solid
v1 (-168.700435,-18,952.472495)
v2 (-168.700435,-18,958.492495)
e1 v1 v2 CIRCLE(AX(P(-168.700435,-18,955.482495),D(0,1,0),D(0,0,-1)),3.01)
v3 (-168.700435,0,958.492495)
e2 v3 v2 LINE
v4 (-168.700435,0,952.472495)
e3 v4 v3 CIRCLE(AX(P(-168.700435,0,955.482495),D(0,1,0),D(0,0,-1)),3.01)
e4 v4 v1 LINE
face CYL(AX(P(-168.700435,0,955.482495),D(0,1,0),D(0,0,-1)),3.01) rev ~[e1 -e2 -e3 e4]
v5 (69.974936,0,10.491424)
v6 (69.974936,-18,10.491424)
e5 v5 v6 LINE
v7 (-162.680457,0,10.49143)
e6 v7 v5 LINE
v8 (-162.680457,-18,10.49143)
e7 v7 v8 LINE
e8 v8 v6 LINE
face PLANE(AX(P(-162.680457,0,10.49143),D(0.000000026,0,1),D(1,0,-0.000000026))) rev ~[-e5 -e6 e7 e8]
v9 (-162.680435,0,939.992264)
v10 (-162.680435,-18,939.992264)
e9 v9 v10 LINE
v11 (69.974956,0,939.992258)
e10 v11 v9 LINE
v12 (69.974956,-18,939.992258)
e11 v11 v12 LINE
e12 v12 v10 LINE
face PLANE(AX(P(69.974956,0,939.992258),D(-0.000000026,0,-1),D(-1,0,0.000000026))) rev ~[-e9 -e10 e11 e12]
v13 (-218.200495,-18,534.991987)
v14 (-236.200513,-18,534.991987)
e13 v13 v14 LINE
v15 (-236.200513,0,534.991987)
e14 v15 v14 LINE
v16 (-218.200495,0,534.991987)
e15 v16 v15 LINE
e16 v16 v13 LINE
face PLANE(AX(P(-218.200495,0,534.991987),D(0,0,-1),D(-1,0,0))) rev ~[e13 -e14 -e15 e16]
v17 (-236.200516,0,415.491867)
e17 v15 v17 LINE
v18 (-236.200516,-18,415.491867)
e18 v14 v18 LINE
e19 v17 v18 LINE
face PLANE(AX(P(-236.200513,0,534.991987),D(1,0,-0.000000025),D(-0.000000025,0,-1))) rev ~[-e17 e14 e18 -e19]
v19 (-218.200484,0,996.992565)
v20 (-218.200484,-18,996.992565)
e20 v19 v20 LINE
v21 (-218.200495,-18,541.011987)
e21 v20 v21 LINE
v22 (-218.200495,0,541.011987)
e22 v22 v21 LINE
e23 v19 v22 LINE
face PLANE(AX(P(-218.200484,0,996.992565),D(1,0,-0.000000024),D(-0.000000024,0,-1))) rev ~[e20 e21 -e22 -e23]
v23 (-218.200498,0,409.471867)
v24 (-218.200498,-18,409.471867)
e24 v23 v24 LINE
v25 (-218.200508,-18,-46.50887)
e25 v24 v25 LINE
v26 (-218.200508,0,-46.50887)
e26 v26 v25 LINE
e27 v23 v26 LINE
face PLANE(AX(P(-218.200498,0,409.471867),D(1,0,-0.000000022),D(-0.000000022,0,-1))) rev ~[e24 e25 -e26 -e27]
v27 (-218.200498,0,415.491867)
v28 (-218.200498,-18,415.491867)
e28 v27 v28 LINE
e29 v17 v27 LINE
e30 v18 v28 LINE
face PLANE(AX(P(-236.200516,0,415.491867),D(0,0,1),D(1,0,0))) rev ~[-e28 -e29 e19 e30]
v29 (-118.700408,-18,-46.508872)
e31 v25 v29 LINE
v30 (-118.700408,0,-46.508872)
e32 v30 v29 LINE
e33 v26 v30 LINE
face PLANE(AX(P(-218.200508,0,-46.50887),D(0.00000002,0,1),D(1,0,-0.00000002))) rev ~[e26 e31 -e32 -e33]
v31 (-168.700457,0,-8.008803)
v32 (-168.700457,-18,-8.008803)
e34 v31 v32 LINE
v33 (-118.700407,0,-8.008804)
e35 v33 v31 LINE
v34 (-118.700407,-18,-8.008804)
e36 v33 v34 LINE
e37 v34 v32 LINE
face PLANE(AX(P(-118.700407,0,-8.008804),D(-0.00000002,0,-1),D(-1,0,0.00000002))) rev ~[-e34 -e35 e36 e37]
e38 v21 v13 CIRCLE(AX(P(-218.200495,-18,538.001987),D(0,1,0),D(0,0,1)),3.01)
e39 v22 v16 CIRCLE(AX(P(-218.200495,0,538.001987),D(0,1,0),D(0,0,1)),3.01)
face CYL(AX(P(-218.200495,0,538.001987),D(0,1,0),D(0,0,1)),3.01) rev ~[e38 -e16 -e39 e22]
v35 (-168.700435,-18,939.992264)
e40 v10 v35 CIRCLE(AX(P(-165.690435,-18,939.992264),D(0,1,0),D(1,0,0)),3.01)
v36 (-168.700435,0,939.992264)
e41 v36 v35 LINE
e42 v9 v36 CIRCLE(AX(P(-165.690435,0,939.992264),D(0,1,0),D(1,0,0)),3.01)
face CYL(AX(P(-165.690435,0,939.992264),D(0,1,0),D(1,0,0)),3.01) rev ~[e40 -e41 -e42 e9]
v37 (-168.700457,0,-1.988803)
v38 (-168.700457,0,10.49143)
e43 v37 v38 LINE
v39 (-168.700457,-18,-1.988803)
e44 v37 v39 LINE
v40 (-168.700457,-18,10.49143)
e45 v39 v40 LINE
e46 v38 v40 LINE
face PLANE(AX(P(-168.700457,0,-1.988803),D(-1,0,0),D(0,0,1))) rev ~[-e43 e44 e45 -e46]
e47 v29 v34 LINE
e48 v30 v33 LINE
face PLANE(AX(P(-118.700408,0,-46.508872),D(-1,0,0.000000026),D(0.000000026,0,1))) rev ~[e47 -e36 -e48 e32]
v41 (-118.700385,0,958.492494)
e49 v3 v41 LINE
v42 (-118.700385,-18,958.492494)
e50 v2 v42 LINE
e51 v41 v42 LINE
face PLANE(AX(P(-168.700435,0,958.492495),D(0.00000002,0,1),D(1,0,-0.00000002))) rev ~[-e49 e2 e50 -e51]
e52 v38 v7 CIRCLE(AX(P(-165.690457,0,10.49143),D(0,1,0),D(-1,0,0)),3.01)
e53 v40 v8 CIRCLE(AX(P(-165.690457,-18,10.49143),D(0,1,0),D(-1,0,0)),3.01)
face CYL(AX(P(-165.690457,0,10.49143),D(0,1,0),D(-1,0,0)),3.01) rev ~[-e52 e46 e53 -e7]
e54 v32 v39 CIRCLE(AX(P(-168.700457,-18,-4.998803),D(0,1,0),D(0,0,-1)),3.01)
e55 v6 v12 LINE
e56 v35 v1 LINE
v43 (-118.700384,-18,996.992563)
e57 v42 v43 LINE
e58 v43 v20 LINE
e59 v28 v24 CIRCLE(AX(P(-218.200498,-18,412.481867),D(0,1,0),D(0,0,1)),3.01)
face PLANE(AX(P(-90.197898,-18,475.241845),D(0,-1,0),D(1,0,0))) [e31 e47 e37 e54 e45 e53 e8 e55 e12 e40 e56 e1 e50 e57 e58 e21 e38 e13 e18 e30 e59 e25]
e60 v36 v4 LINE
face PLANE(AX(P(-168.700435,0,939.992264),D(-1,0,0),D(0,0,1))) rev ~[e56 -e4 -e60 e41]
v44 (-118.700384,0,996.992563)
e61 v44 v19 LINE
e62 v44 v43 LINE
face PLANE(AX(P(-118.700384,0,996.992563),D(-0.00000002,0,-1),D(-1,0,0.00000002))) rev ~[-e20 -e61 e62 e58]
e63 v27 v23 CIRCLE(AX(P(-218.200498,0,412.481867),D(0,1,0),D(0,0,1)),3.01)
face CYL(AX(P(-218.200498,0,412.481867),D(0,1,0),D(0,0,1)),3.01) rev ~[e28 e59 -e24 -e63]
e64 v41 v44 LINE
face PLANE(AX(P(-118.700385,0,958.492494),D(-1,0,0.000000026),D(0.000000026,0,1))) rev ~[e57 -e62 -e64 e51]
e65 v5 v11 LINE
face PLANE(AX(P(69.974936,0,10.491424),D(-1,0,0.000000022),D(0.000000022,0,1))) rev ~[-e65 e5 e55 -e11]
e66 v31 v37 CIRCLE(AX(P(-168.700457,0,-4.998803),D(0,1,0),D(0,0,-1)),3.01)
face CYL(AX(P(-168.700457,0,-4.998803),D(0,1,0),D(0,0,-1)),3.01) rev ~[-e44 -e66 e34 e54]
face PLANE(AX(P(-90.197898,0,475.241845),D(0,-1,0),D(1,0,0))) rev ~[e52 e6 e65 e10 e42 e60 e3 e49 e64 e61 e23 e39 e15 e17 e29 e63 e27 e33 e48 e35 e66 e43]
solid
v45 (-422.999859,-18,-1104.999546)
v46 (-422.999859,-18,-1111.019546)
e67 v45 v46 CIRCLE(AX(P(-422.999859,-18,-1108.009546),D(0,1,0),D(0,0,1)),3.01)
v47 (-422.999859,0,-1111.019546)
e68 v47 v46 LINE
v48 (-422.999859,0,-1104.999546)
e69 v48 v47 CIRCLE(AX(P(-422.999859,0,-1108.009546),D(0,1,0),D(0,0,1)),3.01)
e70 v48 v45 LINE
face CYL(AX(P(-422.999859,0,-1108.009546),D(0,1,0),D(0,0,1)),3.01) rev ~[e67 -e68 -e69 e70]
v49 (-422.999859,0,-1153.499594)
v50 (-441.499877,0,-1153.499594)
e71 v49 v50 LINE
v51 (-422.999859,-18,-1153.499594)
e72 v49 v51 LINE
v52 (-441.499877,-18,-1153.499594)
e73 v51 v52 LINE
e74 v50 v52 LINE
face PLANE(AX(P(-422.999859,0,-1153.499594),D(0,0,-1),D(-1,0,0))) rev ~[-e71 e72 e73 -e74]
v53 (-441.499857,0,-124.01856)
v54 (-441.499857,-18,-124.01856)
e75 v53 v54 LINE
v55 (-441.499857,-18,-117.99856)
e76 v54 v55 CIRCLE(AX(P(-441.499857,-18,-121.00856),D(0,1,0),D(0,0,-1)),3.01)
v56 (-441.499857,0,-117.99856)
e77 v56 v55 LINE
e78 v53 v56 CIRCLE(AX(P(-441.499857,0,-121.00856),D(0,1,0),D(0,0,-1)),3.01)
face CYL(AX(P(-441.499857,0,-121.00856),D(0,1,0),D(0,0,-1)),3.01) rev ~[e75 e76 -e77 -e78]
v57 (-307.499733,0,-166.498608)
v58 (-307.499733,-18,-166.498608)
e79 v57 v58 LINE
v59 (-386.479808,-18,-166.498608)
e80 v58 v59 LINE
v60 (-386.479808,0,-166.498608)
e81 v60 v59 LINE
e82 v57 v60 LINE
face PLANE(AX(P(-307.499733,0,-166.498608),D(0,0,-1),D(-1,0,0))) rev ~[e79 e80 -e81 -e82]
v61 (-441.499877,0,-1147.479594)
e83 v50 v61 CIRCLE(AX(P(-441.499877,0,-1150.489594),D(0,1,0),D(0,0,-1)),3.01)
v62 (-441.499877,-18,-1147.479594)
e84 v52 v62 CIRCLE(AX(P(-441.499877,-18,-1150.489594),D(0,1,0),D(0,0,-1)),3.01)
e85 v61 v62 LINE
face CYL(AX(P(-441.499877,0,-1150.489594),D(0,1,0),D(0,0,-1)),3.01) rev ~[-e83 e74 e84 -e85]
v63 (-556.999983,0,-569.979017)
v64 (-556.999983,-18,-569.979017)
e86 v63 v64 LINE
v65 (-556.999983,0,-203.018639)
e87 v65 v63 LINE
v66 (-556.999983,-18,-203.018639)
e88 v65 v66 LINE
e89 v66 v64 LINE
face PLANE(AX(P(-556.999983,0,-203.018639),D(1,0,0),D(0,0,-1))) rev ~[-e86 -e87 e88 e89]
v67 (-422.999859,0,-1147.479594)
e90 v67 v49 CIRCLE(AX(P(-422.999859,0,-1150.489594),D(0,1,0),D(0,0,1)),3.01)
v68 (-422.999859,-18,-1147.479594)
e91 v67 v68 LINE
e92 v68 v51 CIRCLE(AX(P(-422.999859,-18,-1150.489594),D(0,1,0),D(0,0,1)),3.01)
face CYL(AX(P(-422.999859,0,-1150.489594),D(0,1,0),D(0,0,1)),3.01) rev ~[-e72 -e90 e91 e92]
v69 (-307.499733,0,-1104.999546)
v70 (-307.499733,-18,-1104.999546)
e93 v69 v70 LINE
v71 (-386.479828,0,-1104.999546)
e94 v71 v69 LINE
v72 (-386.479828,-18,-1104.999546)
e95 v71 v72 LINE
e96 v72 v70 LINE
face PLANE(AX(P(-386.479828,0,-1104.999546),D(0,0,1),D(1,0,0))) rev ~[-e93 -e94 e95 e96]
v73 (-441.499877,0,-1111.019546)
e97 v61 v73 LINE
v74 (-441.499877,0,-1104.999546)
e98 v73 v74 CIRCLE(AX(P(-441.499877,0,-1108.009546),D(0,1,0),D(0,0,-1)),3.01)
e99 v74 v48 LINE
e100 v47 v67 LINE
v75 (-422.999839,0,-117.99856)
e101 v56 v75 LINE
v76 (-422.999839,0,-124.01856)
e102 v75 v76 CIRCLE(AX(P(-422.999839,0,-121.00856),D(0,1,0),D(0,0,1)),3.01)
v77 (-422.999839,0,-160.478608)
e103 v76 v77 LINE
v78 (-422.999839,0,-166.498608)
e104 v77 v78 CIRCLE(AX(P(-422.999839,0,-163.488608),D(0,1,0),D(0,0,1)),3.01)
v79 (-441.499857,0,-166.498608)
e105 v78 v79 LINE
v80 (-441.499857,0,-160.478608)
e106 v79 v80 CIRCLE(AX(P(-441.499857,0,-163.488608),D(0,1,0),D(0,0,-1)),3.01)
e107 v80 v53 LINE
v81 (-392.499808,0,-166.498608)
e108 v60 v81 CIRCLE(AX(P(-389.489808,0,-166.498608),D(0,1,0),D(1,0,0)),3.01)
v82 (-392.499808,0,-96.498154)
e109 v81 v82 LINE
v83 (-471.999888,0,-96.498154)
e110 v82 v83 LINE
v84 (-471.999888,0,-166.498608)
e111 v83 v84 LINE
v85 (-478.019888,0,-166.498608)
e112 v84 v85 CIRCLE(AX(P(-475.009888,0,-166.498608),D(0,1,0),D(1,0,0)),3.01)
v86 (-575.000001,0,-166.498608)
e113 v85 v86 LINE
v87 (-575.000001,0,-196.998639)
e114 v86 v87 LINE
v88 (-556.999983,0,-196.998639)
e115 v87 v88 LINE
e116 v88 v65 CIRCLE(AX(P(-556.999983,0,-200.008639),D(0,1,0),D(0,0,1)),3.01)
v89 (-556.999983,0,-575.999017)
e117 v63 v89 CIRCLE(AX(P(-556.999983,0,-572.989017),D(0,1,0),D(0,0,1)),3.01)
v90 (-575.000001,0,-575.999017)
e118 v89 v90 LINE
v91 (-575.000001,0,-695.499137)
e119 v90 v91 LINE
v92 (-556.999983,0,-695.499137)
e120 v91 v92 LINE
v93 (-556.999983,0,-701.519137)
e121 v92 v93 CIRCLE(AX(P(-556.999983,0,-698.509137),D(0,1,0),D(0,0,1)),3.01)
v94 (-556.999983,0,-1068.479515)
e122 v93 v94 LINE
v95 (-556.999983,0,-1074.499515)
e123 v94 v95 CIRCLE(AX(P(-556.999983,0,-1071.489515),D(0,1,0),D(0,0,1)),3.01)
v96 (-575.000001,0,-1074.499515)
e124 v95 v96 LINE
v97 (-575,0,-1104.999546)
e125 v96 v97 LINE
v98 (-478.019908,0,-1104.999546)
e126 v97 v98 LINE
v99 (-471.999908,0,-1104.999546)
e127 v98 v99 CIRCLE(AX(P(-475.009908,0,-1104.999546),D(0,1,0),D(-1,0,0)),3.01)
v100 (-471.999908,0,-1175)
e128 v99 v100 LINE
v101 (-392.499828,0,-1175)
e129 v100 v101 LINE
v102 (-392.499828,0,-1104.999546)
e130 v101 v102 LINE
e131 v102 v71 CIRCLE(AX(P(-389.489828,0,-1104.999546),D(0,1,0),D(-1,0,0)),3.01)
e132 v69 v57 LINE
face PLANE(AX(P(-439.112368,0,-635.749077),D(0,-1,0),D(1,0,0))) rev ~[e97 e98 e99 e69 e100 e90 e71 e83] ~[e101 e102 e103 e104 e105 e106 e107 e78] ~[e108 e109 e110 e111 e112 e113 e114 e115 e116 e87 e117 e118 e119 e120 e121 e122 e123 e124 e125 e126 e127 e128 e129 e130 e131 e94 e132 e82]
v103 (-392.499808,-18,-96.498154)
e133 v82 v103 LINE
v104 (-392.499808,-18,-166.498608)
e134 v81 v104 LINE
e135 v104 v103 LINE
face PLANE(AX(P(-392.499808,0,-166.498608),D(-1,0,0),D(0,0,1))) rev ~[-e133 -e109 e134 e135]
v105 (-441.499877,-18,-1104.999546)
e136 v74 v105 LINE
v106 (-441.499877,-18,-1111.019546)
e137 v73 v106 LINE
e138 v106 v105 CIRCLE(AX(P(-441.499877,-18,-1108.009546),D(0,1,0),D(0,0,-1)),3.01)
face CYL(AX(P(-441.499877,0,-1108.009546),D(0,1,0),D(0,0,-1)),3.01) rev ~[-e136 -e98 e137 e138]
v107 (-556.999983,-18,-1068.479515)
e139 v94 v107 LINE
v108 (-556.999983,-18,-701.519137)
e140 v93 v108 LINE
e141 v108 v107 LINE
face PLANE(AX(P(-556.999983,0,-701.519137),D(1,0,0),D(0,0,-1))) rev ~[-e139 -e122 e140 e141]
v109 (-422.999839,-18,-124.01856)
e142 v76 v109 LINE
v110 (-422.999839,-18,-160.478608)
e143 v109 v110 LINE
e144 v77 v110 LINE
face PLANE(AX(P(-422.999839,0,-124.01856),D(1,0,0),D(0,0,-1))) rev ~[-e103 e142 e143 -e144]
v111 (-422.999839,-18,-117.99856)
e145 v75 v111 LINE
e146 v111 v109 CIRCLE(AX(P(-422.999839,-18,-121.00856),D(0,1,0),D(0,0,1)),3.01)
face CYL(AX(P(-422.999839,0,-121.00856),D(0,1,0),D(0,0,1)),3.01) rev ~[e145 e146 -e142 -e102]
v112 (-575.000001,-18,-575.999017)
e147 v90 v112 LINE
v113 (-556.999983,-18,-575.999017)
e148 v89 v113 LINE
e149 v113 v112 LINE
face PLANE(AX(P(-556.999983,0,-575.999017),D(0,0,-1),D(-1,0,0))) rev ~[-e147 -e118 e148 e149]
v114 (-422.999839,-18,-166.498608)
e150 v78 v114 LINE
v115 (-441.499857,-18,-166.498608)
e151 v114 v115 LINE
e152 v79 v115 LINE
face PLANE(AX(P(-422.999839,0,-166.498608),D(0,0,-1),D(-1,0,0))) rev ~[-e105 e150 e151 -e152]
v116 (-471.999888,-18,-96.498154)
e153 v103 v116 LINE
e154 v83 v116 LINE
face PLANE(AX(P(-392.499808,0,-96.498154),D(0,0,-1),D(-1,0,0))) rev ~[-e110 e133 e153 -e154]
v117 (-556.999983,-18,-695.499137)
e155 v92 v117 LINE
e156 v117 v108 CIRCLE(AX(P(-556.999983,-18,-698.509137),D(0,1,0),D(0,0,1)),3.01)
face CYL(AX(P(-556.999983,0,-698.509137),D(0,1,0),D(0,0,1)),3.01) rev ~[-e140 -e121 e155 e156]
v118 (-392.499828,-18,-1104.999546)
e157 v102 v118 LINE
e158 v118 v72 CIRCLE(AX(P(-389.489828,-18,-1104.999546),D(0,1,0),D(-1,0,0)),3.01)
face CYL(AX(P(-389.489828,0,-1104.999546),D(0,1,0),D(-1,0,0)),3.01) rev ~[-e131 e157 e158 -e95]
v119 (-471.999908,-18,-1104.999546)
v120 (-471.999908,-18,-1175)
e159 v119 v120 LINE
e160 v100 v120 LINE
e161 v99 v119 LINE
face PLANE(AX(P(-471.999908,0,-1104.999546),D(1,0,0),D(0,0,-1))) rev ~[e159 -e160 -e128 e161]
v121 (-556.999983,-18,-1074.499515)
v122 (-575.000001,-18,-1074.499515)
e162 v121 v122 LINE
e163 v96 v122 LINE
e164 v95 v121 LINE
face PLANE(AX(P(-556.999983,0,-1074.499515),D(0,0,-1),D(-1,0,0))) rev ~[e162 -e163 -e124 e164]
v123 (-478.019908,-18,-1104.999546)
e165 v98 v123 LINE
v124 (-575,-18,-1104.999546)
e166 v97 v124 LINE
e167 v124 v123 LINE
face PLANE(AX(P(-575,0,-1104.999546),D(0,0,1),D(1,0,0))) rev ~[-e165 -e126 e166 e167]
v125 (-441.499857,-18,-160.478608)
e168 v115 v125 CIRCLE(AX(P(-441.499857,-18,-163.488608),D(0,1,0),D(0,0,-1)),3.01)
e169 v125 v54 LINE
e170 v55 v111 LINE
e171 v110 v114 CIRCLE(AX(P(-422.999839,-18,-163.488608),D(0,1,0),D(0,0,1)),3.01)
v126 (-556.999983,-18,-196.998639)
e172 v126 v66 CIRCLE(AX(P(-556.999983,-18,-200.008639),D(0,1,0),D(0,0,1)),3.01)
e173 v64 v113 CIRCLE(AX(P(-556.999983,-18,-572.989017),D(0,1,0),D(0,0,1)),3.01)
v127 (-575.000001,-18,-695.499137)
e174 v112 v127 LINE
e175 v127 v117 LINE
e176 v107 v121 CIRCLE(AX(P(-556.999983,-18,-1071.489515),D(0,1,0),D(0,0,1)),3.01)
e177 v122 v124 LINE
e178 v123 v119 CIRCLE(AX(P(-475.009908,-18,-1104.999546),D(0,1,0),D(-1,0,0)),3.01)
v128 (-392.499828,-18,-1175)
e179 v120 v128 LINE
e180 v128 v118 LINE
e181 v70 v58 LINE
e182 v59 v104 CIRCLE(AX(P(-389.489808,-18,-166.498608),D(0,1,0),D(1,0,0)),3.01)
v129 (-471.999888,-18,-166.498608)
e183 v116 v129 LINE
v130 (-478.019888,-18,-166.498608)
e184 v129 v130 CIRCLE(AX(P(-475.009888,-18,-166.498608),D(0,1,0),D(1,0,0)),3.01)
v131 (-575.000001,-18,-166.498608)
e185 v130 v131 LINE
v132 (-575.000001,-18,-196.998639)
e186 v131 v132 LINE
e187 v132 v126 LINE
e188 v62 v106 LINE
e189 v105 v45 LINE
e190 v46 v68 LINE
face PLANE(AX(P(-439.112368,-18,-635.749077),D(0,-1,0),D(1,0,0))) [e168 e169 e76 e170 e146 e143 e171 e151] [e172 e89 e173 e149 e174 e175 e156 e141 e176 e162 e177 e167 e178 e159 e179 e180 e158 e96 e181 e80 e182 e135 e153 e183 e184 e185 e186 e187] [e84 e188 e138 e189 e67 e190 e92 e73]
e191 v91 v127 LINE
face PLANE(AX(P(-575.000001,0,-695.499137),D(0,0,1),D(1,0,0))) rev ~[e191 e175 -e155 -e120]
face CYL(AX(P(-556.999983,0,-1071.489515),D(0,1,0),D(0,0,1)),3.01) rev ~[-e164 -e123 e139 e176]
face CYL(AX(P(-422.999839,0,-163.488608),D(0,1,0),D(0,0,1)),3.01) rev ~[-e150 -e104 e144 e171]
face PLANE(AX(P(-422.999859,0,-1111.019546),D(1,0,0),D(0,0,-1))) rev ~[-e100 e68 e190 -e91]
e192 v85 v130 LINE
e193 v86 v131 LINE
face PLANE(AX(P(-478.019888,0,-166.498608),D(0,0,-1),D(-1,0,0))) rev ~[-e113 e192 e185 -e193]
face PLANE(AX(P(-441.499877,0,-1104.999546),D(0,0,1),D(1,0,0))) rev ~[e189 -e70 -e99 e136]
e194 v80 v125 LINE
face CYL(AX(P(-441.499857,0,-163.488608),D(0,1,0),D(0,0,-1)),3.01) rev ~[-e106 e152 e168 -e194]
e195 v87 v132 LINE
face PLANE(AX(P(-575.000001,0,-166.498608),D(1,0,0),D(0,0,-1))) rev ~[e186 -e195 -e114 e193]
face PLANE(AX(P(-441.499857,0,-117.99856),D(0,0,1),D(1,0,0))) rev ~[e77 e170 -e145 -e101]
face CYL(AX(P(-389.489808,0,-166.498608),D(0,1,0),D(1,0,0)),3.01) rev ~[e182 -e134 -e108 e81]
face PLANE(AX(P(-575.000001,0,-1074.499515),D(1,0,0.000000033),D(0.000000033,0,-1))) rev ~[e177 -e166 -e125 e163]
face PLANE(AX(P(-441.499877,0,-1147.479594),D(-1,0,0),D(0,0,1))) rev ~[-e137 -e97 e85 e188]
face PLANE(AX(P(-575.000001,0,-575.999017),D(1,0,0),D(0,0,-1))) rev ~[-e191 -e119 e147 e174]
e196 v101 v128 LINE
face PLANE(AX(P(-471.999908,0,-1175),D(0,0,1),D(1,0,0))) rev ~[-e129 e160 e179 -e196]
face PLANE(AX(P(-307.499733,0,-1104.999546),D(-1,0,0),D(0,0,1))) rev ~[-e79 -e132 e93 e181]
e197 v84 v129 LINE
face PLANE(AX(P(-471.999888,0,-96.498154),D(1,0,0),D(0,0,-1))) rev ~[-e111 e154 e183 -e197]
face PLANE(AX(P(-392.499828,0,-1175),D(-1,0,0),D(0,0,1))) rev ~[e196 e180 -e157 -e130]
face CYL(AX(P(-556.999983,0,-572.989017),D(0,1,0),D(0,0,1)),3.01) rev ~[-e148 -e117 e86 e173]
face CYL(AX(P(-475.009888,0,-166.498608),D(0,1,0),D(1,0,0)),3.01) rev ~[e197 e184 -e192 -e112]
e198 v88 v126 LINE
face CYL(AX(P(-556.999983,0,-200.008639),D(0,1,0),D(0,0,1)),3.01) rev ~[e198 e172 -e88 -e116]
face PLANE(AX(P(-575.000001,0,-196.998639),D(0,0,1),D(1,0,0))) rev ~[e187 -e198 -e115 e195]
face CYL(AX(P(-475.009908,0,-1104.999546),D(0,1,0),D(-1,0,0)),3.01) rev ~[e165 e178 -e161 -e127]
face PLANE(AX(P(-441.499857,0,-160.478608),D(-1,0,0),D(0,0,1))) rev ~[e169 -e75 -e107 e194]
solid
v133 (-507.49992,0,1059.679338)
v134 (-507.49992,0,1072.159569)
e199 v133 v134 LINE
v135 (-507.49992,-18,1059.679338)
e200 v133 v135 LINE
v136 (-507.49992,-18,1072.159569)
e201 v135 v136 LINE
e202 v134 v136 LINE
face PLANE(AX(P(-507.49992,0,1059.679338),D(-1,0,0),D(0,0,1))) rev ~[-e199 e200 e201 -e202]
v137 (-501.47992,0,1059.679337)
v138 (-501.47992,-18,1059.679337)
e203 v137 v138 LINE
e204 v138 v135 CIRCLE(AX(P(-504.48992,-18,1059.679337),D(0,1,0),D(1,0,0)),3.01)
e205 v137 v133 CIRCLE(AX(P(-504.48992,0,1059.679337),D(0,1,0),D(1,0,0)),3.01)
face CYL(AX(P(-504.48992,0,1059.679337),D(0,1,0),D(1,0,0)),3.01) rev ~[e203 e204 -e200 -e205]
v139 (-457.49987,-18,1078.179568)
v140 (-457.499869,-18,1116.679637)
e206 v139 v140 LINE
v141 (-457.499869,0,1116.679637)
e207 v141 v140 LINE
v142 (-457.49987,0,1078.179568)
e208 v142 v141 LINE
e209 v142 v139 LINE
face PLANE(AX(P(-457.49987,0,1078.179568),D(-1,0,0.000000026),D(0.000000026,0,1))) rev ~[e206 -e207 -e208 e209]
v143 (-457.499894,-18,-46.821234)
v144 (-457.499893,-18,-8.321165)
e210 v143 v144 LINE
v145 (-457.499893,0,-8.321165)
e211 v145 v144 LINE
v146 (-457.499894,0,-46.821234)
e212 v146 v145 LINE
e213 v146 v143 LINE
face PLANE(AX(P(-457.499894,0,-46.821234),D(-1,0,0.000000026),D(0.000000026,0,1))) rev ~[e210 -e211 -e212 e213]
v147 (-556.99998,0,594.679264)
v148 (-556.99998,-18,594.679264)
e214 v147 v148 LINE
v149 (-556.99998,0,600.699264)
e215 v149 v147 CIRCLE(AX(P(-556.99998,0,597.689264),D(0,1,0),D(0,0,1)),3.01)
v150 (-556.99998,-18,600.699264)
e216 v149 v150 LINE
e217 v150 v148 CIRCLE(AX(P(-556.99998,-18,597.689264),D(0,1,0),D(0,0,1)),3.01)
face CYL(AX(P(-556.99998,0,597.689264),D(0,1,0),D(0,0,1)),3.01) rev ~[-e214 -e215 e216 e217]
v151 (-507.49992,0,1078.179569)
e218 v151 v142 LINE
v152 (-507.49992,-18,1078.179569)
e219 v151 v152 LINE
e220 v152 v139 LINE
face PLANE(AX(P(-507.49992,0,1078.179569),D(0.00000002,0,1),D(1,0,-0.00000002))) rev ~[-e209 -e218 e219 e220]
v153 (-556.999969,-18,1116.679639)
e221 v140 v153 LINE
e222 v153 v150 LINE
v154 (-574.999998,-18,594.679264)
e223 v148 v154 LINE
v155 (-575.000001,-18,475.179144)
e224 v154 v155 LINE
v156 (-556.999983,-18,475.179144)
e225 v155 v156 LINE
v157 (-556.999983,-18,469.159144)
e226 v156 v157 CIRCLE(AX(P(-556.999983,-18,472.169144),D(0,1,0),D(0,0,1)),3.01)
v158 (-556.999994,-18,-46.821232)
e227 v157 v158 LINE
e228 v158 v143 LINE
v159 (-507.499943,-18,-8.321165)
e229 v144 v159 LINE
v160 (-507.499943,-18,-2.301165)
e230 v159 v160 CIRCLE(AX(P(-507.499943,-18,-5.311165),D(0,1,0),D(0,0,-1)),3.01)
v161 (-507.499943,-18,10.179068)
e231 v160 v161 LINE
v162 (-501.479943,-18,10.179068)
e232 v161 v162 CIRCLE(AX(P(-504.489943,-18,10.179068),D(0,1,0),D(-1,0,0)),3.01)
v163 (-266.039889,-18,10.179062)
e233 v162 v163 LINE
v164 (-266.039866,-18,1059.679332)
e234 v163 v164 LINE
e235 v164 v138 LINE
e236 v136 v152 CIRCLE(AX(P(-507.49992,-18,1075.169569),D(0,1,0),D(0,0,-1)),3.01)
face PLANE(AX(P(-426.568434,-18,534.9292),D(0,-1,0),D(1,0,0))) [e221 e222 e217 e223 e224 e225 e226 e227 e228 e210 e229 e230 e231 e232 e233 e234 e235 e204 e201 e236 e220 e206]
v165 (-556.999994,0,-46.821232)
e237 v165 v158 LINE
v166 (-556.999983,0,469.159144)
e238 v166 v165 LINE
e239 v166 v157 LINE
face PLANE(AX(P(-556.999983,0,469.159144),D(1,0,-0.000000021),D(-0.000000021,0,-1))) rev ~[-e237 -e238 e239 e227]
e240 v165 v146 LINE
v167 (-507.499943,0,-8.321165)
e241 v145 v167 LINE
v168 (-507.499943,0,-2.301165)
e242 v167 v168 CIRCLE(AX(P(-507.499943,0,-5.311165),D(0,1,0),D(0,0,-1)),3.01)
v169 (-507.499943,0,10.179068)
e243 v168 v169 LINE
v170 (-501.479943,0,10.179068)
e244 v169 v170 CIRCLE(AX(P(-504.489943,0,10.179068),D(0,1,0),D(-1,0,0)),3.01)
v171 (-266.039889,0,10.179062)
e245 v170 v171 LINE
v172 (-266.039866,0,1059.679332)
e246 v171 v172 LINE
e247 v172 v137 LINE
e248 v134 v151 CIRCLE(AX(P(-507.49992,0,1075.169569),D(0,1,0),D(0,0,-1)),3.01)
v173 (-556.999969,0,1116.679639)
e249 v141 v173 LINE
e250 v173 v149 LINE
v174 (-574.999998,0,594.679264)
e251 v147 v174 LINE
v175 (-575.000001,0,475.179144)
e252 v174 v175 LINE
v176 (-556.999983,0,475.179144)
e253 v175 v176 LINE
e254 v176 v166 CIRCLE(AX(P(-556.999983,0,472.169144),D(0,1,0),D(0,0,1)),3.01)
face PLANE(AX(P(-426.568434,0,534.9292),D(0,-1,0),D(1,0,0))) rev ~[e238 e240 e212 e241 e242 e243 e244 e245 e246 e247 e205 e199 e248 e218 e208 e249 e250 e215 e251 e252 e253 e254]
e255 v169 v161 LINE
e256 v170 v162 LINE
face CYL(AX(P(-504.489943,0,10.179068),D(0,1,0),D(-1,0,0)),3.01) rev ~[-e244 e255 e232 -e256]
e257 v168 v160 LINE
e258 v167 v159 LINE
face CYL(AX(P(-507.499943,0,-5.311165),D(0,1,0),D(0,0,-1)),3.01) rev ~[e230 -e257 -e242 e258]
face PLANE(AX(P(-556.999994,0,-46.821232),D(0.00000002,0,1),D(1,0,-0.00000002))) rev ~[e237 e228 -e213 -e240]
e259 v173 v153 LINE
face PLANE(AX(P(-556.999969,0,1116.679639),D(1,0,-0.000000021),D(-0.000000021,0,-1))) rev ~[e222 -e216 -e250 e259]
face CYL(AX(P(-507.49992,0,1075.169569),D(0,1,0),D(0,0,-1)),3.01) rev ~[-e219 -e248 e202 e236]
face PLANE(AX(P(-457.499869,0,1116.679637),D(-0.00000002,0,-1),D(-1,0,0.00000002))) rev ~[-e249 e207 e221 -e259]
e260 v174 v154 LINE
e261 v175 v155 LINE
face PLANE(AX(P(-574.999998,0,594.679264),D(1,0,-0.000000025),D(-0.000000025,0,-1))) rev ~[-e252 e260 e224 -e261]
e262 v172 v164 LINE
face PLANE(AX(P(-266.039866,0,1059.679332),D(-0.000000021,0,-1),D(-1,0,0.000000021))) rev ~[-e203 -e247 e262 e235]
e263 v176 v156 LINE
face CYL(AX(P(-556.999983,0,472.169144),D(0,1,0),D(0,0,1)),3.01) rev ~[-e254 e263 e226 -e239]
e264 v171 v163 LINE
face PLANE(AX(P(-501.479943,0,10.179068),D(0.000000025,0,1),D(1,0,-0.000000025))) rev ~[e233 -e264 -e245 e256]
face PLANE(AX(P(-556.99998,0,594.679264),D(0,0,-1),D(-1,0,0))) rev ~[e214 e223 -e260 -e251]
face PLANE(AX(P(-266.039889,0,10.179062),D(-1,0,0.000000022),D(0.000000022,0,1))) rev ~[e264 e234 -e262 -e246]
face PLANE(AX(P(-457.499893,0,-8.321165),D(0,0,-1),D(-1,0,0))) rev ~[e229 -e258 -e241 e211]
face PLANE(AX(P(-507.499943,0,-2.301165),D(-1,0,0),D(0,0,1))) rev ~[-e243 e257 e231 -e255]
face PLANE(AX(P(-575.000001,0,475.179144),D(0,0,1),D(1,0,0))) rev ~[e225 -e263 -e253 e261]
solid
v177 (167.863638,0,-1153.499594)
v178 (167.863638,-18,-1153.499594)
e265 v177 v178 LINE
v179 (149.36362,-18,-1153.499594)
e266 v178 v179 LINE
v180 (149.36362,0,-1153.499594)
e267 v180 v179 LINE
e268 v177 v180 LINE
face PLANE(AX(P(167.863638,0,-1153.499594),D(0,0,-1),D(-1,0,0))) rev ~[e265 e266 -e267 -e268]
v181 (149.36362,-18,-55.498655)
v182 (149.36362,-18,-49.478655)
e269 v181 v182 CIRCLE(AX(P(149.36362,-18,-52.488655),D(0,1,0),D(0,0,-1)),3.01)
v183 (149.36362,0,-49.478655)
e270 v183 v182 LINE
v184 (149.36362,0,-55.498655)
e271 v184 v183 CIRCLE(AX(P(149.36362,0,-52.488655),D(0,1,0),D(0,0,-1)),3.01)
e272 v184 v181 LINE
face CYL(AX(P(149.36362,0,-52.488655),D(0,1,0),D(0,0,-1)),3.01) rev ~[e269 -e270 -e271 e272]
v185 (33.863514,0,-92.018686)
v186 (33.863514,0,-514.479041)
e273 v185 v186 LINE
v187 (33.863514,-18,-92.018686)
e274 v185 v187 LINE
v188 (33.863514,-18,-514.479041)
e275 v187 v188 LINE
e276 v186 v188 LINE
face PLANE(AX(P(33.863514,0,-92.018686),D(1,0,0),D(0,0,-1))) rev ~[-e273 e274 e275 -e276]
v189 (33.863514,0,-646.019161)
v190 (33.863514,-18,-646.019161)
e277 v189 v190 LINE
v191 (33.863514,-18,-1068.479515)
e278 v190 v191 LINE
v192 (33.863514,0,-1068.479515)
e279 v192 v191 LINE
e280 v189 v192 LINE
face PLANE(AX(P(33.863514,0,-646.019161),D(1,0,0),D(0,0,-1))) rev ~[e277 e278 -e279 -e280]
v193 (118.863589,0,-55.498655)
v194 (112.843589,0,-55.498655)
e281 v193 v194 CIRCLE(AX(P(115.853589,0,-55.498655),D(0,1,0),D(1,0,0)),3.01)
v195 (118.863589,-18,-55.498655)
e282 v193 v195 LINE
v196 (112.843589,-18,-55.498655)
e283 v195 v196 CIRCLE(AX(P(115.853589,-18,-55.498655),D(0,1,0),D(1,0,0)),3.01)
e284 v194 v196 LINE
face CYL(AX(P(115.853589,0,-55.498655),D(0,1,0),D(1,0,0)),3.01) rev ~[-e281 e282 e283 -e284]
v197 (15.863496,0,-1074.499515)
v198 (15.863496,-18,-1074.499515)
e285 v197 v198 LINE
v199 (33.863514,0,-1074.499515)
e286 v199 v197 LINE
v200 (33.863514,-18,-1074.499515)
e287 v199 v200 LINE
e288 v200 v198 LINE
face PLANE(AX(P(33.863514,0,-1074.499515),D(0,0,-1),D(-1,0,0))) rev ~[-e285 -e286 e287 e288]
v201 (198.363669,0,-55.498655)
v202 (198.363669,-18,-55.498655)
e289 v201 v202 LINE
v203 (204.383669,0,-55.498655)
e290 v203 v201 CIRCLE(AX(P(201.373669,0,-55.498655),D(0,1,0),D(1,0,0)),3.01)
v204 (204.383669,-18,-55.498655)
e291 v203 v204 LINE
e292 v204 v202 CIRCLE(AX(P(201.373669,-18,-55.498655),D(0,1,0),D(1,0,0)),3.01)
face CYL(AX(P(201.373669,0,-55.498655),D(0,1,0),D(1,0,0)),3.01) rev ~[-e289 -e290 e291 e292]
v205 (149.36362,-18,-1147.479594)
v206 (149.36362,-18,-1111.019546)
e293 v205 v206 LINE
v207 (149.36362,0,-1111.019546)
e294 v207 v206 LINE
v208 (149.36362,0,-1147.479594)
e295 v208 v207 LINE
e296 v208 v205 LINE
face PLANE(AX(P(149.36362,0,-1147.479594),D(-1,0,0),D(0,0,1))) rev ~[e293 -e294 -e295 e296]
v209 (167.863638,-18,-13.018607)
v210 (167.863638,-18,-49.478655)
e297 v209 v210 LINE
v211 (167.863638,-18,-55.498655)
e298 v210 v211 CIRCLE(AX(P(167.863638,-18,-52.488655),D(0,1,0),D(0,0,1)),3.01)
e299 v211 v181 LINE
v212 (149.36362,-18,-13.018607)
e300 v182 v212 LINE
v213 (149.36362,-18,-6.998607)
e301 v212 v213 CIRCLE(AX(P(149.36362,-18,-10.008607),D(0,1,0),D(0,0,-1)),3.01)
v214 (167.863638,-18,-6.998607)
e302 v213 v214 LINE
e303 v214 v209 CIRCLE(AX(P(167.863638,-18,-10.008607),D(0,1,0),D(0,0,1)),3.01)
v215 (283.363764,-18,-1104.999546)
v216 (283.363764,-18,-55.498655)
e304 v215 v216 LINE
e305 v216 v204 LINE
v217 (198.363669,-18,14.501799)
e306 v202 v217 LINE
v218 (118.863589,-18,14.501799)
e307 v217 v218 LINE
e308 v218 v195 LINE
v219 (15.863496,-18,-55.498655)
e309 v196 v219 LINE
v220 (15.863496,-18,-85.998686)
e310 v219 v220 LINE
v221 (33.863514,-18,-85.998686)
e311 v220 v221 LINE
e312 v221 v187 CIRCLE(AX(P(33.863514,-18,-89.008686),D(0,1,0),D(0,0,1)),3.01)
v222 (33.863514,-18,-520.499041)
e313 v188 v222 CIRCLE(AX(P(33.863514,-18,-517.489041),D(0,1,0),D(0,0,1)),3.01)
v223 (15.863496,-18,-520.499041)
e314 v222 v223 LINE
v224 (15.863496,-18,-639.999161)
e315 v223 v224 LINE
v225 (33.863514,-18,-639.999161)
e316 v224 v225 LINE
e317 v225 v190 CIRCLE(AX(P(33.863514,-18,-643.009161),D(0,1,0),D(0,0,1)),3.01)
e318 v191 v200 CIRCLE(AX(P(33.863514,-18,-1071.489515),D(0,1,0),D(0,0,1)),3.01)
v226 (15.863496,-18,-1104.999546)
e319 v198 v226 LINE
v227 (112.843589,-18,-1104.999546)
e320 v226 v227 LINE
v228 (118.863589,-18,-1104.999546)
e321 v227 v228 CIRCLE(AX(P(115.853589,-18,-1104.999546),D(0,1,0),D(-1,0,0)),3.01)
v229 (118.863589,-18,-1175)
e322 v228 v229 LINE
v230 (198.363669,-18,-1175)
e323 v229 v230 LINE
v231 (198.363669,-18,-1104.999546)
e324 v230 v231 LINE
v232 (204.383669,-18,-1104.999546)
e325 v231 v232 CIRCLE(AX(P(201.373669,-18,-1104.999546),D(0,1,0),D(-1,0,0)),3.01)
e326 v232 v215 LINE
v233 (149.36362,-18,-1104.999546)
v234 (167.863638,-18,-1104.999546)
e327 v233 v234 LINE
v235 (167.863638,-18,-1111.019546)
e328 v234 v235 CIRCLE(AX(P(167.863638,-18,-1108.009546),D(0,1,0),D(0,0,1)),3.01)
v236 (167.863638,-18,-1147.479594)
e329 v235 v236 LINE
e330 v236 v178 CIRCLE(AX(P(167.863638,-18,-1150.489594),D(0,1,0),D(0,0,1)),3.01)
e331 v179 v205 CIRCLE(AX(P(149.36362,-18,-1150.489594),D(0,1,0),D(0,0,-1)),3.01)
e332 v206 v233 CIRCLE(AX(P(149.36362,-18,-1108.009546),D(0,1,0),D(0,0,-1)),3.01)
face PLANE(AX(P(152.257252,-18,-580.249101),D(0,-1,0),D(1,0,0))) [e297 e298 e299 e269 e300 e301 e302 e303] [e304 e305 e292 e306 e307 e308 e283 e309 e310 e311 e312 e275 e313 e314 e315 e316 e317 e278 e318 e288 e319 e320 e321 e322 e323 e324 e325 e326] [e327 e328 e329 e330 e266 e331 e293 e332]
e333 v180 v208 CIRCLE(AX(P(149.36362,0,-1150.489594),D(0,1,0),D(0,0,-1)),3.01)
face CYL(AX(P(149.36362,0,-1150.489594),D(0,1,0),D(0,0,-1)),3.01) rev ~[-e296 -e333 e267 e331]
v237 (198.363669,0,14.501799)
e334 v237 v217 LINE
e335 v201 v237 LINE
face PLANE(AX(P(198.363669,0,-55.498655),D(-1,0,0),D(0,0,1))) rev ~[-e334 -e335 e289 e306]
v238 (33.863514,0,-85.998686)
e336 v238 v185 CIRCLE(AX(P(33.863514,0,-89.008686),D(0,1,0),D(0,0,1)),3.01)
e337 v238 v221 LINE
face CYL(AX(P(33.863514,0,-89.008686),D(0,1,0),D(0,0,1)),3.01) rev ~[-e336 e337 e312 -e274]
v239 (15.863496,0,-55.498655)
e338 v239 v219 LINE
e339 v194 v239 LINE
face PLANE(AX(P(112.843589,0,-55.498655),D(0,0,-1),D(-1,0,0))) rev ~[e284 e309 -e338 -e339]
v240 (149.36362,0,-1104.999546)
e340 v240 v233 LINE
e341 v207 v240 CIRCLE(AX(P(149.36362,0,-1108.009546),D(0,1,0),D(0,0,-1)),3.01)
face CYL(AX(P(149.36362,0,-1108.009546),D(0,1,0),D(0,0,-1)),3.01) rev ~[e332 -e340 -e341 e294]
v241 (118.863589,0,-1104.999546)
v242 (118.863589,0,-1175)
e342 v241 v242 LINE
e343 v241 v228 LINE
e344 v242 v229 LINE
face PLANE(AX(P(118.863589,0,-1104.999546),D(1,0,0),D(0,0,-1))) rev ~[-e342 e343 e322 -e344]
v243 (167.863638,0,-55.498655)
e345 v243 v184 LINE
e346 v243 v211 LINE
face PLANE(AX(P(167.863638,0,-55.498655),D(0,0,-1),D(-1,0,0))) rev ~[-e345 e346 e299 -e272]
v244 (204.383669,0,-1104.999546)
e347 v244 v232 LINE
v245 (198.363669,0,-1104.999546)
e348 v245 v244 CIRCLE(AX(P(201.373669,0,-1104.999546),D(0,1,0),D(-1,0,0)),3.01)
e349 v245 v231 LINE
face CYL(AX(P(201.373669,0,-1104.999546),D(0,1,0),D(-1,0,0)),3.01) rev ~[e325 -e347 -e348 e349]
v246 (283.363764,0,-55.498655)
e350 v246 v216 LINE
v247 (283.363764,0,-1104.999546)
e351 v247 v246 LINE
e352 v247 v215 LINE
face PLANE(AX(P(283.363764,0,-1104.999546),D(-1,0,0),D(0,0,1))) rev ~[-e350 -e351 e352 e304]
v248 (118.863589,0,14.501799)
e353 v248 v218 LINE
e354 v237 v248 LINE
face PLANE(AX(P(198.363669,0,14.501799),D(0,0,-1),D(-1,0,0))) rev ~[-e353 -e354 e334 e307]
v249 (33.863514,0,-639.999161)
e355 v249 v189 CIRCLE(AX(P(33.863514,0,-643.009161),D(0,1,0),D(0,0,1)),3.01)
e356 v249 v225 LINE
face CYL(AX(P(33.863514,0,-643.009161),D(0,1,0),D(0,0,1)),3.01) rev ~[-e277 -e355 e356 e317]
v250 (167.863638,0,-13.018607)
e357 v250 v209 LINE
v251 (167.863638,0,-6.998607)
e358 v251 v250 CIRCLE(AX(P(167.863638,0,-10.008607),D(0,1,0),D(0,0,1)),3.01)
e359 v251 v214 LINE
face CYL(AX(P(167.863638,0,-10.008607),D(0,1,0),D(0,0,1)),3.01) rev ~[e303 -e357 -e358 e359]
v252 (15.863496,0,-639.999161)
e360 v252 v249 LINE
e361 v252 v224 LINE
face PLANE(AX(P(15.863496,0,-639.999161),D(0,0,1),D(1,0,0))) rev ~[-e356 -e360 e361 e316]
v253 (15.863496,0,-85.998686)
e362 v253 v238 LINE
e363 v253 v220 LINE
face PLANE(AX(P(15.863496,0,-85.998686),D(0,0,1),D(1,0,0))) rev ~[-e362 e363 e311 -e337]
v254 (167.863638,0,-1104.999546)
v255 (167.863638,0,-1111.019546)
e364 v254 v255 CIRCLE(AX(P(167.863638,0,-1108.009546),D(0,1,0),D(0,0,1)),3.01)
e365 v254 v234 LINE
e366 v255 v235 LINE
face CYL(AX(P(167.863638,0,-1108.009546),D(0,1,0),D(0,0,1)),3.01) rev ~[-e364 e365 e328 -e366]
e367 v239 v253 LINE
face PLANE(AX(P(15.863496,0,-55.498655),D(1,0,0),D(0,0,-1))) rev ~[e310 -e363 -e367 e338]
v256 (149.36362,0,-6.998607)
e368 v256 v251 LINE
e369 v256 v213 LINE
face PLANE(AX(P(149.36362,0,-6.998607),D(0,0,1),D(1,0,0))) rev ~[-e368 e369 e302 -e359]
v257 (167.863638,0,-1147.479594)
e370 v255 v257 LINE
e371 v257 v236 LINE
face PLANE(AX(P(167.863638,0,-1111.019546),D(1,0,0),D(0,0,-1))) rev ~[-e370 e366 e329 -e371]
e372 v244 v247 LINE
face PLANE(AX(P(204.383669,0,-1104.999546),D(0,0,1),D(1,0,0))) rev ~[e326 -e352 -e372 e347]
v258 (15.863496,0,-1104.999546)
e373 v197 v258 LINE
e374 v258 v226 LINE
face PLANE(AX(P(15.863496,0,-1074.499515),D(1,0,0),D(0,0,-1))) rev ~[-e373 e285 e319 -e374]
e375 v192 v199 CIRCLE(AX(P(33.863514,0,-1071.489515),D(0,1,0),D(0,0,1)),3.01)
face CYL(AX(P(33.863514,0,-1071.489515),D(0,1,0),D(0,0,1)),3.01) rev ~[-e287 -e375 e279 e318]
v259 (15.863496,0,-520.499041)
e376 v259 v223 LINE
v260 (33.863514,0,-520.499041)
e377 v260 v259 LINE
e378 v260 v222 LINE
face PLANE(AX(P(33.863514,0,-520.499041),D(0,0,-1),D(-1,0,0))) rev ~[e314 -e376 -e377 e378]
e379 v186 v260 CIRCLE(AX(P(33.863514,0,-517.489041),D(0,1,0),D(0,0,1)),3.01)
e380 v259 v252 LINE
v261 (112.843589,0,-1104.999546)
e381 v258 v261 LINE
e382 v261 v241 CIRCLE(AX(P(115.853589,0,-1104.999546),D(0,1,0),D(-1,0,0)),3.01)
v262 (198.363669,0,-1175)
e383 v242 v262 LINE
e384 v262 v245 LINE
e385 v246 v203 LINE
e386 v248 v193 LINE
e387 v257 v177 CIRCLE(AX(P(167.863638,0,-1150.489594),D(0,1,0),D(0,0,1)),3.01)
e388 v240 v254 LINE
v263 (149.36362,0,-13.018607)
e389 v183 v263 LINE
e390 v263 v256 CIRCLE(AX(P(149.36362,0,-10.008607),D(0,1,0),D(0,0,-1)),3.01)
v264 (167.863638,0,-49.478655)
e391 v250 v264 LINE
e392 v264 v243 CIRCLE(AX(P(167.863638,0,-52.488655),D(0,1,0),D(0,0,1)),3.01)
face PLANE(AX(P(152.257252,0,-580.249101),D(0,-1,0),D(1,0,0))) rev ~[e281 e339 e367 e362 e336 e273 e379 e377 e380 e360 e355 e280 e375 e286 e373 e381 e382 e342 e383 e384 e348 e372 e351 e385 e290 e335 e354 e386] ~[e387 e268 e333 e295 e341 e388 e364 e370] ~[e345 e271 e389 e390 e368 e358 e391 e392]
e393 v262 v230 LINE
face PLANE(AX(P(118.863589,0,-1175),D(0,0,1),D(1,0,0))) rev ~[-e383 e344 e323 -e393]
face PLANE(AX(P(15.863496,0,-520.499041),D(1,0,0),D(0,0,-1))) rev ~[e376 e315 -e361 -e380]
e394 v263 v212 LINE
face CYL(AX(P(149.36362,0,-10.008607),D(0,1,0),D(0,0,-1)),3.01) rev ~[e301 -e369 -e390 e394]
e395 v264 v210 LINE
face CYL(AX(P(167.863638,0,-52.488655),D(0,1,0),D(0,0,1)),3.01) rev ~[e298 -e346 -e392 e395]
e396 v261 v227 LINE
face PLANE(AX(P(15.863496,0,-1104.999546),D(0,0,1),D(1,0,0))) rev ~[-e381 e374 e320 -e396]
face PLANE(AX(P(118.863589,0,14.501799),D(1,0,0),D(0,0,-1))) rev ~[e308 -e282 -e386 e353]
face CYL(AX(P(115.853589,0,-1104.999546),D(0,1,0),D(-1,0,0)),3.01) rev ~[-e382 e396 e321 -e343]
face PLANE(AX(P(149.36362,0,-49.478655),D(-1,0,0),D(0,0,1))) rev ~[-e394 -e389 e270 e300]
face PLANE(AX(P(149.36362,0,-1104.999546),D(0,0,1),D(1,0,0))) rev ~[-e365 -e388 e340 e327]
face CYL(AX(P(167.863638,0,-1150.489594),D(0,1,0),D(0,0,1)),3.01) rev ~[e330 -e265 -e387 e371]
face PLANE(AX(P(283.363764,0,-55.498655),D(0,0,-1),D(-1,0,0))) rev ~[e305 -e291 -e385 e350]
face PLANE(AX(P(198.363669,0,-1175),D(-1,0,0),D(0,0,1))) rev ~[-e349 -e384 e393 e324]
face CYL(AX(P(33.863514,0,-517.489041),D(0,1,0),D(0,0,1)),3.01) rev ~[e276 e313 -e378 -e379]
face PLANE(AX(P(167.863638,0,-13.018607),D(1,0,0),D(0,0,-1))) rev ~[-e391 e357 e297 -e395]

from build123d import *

# Parameters (mm, degrees)
F1_DEPTH = 18
F2_DEPTH = 18
F3_DEPTH = 18
F4_DEPTH = 18


with BuildPart() as f1:
    # F0 (on Front) → F1 (new body)
    with BuildSketch(Plane.XZ):
        with BuildLine():
            Line((-266.039889, 10.179062), (-266.039866, 1059.679332))
            Line((-266.039866, 1059.679332), (-501.47992, 1059.679337))
            ThreePointArc((-501.47992, 1059.679337), (-504.489921, 1056.669337), (-507.49992, 1059.679338))
            Line((-507.49992, 1059.679338), (-507.49992, 1072.159569))
            ThreePointArc((-507.49992, 1072.159569), (-510.50992, 1075.169569), (-507.49992, 1078.179569))
            Line((-507.49992, 1078.179569), (-457.49987, 1078.179568))
            Line((-457.49987, 1078.179568), (-457.499869, 1116.679637))
            Line((-457.499869, 1116.679637), (-556.999969, 1116.679639))
            Line((-556.999969, 1116.679639), (-556.99998, 600.699264))
            ThreePointArc((-556.99998, 600.699264), (-553.98998, 597.689264), (-556.99998, 594.679264))
            Line((-556.99998, 594.679264), (-574.999998, 594.679264))
            Line((-574.999998, 594.679264), (-575.000001, 475.179144))
            Line((-575.000001, 475.179144), (-556.999983, 475.179144))
            ThreePointArc((-556.999983, 475.179144), (-553.989983, 472.169144), (-556.999983, 469.159144))
            Line((-556.999983, 469.159144), (-556.999994, -46.821232))
            Line((-556.999994, -46.821232), (-457.499894, -46.821234))
            Line((-457.499894, -46.821234), (-457.499893, -8.321165))
            Line((-457.499893, -8.321165), (-507.499943, -8.321165))
            ThreePointArc((-507.499943, -8.321165), (-510.509943, -5.311165), (-507.499943, -2.301165))
            Line((-507.499943, -2.301165), (-507.499943, 10.179068))
            ThreePointArc((-507.499943, 10.179068), (-504.489943, 13.189068), (-501.479943, 10.179068))
            Line((-501.479943, 10.179068), (-266.039889, 10.179062))
        make_face()
    extrude(amount=F1_DEPTH)


with BuildPart() as f2:
    # F0 (on Front) → F2 (new body)
    with BuildSketch(Plane.XZ):
        with BuildLine():
            ThreePointArc((-168.700457, -8.008803), (-171.710457, -4.998803), (-168.700457, -1.988803))
            Line((-168.700457, -1.988803), (-168.700457, 10.49143))
            ThreePointArc((-168.700457, 10.49143), (-165.690457, 13.50143), (-162.680457, 10.49143))
            Line((-162.680457, 10.49143), (69.974936, 10.491424))
            Line((69.974936, 10.491424), (69.974956, 939.992258))
            Line((69.974956, 939.992258), (-162.680435, 939.992264))
            ThreePointArc((-162.680435, 939.992264), (-165.690435, 936.982264), (-168.700435, 939.992264))
            Line((-168.700435, 939.992264), (-168.700435, 952.472495))
            ThreePointArc((-168.700435, 952.472495), (-171.710435, 955.482495), (-168.700435, 958.492495))
            Line((-168.700435, 958.492495), (-118.700385, 958.492494))
            Line((-118.700385, 958.492494), (-118.700384, 996.992563))
            Line((-118.700384, 996.992563), (-218.200484, 996.992565))
            Line((-218.200484, 996.992565), (-218.200495, 541.011987))
            ThreePointArc((-218.200495, 541.011987), (-215.190495, 538.001987), (-218.200495, 534.991987))
            Line((-218.200495, 534.991987), (-236.200513, 534.991987))
            Line((-236.200513, 534.991987), (-236.200516, 415.491867))
            Line((-236.200516, 415.491867), (-218.200498, 415.491867))
            ThreePointArc((-218.200498, 415.491867), (-215.190498, 412.481867), (-218.200498, 409.471867))
            Line((-218.200498, 409.471867), (-218.200508, -46.50887))
            Line((-218.200508, -46.50887), (-118.700408, -46.508872))
            Line((-118.700408, -46.508872), (-118.700407, -8.008804))
            Line((-118.700407, -8.008804), (-168.700457, -8.008803))
        make_face()
    extrude(amount=F2_DEPTH)


with BuildPart() as f3:
    # F0 (on Front) → F3 (new body)
    with BuildSketch(Plane.XZ):
        with BuildLine():
            Line((-307.499733, -1104.999546), (-307.499733, -166.498608))
            Line((-307.499733, -166.498608), (-386.479808, -166.498608))
            ThreePointArc((-386.479808, -166.498608), (-389.489808, -169.508608), (-392.499808, -166.498608))
            Line((-392.499808, -166.498608), (-392.499808, -96.498154))
            Line((-392.499808, -96.498154), (-471.999888, -96.498154))
            Line((-471.999888, -96.498154), (-471.999888, -166.498608))
            ThreePointArc((-471.999888, -166.498608), (-475.009888, -169.508608), (-478.019888, -166.498608))
            Line((-478.019888, -166.498608), (-575.000001, -166.498608))
            Line((-575.000001, -166.498608), (-575.000001, -196.998639))
            Line((-575.000001, -196.998639), (-556.999983, -196.998639))
            ThreePointArc((-556.999983, -196.998639), (-553.989983, -200.008639), (-556.999983, -203.018639))
            Line((-556.999983, -203.018639), (-556.999983, -569.979017))
            ThreePointArc((-556.999983, -569.979017), (-553.989983, -572.989017), (-556.999983, -575.999017))
            Line((-556.999983, -575.999017), (-575.000001, -575.999017))
            Line((-575.000001, -575.999017), (-575.000001, -695.499137))
            Line((-575.000001, -695.499137), (-556.999983, -695.499137))
            ThreePointArc((-556.999983, -695.499137), (-553.989983, -698.509137), (-556.999983, -701.519137))
            Line((-556.999983, -701.519137), (-556.999983, -1068.479515))
            ThreePointArc((-556.999983, -1068.479515), (-553.989983, -1071.489515), (-556.999983, -1074.499515))
            Line((-556.999983, -1074.499515), (-575.000001, -1074.499515))
            Line((-575.000001, -1074.499515), (-575, -1104.999546))
            Line((-575, -1104.999546), (-478.019908, -1104.999546))
            ThreePointArc((-478.019908, -1104.999546), (-475.009908, -1101.989546), (-471.999908, -1104.999546))
            Line((-471.999908, -1104.999546), (-471.999908, -1175))
            Line((-471.999908, -1175), (-392.499828, -1175))
            Line((-392.499828, -1175), (-392.499828, -1104.999546))
            ThreePointArc((-392.499828, -1104.999546), (-389.489828, -1101.989546), (-386.479828, -1104.999546))
            Line((-386.479828, -1104.999546), (-307.499733, -1104.999546))
        make_face()
        with BuildLine():
            Line((-422.999859, -1111.019546), (-422.999859, -1147.479594))
            ThreePointArc((-422.999859, -1147.479594), (-419.989859, -1150.489594), (-422.999859, -1153.499594))
            Line((-422.999859, -1153.499594), (-441.499877, -1153.499594))
            ThreePointArc((-441.499877, -1153.499594), (-444.509877, -1150.489594), (-441.499877, -1147.479594))
            Line((-441.499877, -1147.479594), (-441.499877, -1111.019546))
            ThreePointArc((-441.499877, -1111.019546), (-444.509877, -1108.009546), (-441.499877, -1104.999546))
            Line((-441.499877, -1104.999546), (-422.999859, -1104.999546))
            ThreePointArc((-422.999859, -1104.999546), (-419.989859, -1108.009546), (-422.999859, -1111.019546))
        make_face(mode=Mode.SUBTRACT)
        with BuildLine():
            Line((-441.499857, -160.478608), (-441.499857, -124.01856))
            ThreePointArc((-441.499857, -124.01856), (-444.509857, -121.00856), (-441.499857, -117.99856))
            Line((-441.499857, -117.99856), (-422.999839, -117.99856))
            ThreePointArc((-422.999839, -117.99856), (-419.989839, -121.00856), (-422.999839, -124.01856))
            Line((-422.999839, -124.01856), (-422.999839, -160.478608))
            ThreePointArc((-422.999839, -160.478608), (-419.989839, -163.488608), (-422.999839, -166.498608))
            Line((-422.999839, -166.498608), (-441.499857, -166.498608))
            ThreePointArc((-441.499857, -166.498608), (-444.509857, -163.488608), (-441.499857, -160.478608))
        make_face(mode=Mode.SUBTRACT)
    extrude(amount=F3_DEPTH)


with BuildPart() as f4:
    # F0 (on Front) → F4 (new body)
    with BuildSketch(Plane.XZ):
        with BuildLine():
            Line((283.363764, -1104.999546), (283.363764, -55.498655))
            Line((283.363764, -55.498655), (204.383669, -55.498655))
            ThreePointArc((204.383669, -55.498655), (201.373669, -58.508655), (198.363669, -55.498655))
            Line((198.363669, -55.498655), (198.363669, 14.501799))
            Line((198.363669, 14.501799), (118.863589, 14.501799))
            Line((118.863589, 14.501799), (118.863589, -55.498655))
            ThreePointArc((118.863589, -55.498655), (115.853589, -58.508655), (112.843589, -55.498655))
            Line((112.843589, -55.498655), (15.863496, -55.498655))
            Line((15.863496, -55.498655), (15.863496, -85.998686))
            Line((15.863496, -85.998686), (33.863514, -85.998686))
            ThreePointArc((33.863514, -85.998686), (36.873514, -89.008686), (33.863514, -92.018686))
            Line((33.863514, -92.018686), (33.863514, -514.479041))
            ThreePointArc((33.863514, -514.479041), (36.873514, -517.489041), (33.863514, -520.499041))
            Line((33.863514, -520.499041), (15.863496, -520.499041))
            Line((15.863496, -520.499041), (15.863496, -639.999161))
            Line((15.863496, -639.999161), (33.863514, -639.999161))
            ThreePointArc((33.863514, -639.999161), (36.873514, -643.009161), (33.863514, -646.019161))
            Line((33.863514, -646.019161), (33.863514, -1068.479515))
            ThreePointArc((33.863514, -1068.479515), (36.873514, -1071.489515), (33.863514, -1074.499515))
            Line((33.863514, -1074.499515), (15.863496, -1074.499515))
            Line((15.863496, -1074.499515), (15.863496, -1104.999546))
            Line((15.863496, -1104.999546), (112.843589, -1104.999546))
            ThreePointArc((112.843589, -1104.999546), (115.853589, -1101.989546), (118.863589, -1104.999546))
            Line((118.863589, -1104.999546), (118.863589, -1175))
            Line((118.863589, -1175), (198.363669, -1175))
            Line((198.363669, -1175), (198.363669, -1104.999546))
            ThreePointArc((198.363669, -1104.999546), (201.373669, -1101.989546), (204.383669, -1104.999546))
            Line((204.383669, -1104.999546), (283.363764, -1104.999546))
        make_face()
        with BuildLine():
            Line((167.863638, -1111.019546), (167.863638, -1147.479594))
            ThreePointArc((167.863638, -1147.479594), (170.873638, -1150.489594), (167.863638, -1153.499594))
            Line((167.863638, -1153.499594), (149.36362, -1153.499594))
            ThreePointArc((149.36362, -1153.499594), (146.35362, -1150.489594), (149.36362, -1147.479594))
            Line((149.36362, -1147.479594), (149.36362, -1111.019546))
            ThreePointArc((149.36362, -1111.019546), (146.35362, -1108.009546), (149.36362, -1104.999546))
            Line((149.36362, -1104.999546), (167.863638, -1104.999546))
            ThreePointArc((167.863638, -1104.999546), (170.873638, -1108.009546), (167.863638, -1111.019546))
        make_face(mode=Mode.SUBTRACT)
        with BuildLine():
            Line((167.863638, -13.018607), (167.863638, -49.478655))
            ThreePointArc((167.863638, -49.478655), (170.873638, -52.488655), (167.863638, -55.498655))
            Line((167.863638, -55.498655), (149.36362, -55.498655))
            ThreePointArc((149.36362, -55.498655), (146.35362, -52.488655), (149.36362, -49.478655))
            Line((149.36362, -49.478655), (149.36362, -13.018607))
            ThreePointArc((149.36362, -13.018607), (146.35362, -10.008607), (149.36362, -6.998607))
            Line((149.36362, -6.998607), (167.863638, -6.998607))
            ThreePointArc((167.863638, -6.998607), (170.873638, -10.008607), (167.863638, -13.018607))
        make_face(mode=Mode.SUBTRACT)
    extrude(amount=F4_DEPTH)


solid = Compound([f1.part, f2.part, f3.part, f4.part])
